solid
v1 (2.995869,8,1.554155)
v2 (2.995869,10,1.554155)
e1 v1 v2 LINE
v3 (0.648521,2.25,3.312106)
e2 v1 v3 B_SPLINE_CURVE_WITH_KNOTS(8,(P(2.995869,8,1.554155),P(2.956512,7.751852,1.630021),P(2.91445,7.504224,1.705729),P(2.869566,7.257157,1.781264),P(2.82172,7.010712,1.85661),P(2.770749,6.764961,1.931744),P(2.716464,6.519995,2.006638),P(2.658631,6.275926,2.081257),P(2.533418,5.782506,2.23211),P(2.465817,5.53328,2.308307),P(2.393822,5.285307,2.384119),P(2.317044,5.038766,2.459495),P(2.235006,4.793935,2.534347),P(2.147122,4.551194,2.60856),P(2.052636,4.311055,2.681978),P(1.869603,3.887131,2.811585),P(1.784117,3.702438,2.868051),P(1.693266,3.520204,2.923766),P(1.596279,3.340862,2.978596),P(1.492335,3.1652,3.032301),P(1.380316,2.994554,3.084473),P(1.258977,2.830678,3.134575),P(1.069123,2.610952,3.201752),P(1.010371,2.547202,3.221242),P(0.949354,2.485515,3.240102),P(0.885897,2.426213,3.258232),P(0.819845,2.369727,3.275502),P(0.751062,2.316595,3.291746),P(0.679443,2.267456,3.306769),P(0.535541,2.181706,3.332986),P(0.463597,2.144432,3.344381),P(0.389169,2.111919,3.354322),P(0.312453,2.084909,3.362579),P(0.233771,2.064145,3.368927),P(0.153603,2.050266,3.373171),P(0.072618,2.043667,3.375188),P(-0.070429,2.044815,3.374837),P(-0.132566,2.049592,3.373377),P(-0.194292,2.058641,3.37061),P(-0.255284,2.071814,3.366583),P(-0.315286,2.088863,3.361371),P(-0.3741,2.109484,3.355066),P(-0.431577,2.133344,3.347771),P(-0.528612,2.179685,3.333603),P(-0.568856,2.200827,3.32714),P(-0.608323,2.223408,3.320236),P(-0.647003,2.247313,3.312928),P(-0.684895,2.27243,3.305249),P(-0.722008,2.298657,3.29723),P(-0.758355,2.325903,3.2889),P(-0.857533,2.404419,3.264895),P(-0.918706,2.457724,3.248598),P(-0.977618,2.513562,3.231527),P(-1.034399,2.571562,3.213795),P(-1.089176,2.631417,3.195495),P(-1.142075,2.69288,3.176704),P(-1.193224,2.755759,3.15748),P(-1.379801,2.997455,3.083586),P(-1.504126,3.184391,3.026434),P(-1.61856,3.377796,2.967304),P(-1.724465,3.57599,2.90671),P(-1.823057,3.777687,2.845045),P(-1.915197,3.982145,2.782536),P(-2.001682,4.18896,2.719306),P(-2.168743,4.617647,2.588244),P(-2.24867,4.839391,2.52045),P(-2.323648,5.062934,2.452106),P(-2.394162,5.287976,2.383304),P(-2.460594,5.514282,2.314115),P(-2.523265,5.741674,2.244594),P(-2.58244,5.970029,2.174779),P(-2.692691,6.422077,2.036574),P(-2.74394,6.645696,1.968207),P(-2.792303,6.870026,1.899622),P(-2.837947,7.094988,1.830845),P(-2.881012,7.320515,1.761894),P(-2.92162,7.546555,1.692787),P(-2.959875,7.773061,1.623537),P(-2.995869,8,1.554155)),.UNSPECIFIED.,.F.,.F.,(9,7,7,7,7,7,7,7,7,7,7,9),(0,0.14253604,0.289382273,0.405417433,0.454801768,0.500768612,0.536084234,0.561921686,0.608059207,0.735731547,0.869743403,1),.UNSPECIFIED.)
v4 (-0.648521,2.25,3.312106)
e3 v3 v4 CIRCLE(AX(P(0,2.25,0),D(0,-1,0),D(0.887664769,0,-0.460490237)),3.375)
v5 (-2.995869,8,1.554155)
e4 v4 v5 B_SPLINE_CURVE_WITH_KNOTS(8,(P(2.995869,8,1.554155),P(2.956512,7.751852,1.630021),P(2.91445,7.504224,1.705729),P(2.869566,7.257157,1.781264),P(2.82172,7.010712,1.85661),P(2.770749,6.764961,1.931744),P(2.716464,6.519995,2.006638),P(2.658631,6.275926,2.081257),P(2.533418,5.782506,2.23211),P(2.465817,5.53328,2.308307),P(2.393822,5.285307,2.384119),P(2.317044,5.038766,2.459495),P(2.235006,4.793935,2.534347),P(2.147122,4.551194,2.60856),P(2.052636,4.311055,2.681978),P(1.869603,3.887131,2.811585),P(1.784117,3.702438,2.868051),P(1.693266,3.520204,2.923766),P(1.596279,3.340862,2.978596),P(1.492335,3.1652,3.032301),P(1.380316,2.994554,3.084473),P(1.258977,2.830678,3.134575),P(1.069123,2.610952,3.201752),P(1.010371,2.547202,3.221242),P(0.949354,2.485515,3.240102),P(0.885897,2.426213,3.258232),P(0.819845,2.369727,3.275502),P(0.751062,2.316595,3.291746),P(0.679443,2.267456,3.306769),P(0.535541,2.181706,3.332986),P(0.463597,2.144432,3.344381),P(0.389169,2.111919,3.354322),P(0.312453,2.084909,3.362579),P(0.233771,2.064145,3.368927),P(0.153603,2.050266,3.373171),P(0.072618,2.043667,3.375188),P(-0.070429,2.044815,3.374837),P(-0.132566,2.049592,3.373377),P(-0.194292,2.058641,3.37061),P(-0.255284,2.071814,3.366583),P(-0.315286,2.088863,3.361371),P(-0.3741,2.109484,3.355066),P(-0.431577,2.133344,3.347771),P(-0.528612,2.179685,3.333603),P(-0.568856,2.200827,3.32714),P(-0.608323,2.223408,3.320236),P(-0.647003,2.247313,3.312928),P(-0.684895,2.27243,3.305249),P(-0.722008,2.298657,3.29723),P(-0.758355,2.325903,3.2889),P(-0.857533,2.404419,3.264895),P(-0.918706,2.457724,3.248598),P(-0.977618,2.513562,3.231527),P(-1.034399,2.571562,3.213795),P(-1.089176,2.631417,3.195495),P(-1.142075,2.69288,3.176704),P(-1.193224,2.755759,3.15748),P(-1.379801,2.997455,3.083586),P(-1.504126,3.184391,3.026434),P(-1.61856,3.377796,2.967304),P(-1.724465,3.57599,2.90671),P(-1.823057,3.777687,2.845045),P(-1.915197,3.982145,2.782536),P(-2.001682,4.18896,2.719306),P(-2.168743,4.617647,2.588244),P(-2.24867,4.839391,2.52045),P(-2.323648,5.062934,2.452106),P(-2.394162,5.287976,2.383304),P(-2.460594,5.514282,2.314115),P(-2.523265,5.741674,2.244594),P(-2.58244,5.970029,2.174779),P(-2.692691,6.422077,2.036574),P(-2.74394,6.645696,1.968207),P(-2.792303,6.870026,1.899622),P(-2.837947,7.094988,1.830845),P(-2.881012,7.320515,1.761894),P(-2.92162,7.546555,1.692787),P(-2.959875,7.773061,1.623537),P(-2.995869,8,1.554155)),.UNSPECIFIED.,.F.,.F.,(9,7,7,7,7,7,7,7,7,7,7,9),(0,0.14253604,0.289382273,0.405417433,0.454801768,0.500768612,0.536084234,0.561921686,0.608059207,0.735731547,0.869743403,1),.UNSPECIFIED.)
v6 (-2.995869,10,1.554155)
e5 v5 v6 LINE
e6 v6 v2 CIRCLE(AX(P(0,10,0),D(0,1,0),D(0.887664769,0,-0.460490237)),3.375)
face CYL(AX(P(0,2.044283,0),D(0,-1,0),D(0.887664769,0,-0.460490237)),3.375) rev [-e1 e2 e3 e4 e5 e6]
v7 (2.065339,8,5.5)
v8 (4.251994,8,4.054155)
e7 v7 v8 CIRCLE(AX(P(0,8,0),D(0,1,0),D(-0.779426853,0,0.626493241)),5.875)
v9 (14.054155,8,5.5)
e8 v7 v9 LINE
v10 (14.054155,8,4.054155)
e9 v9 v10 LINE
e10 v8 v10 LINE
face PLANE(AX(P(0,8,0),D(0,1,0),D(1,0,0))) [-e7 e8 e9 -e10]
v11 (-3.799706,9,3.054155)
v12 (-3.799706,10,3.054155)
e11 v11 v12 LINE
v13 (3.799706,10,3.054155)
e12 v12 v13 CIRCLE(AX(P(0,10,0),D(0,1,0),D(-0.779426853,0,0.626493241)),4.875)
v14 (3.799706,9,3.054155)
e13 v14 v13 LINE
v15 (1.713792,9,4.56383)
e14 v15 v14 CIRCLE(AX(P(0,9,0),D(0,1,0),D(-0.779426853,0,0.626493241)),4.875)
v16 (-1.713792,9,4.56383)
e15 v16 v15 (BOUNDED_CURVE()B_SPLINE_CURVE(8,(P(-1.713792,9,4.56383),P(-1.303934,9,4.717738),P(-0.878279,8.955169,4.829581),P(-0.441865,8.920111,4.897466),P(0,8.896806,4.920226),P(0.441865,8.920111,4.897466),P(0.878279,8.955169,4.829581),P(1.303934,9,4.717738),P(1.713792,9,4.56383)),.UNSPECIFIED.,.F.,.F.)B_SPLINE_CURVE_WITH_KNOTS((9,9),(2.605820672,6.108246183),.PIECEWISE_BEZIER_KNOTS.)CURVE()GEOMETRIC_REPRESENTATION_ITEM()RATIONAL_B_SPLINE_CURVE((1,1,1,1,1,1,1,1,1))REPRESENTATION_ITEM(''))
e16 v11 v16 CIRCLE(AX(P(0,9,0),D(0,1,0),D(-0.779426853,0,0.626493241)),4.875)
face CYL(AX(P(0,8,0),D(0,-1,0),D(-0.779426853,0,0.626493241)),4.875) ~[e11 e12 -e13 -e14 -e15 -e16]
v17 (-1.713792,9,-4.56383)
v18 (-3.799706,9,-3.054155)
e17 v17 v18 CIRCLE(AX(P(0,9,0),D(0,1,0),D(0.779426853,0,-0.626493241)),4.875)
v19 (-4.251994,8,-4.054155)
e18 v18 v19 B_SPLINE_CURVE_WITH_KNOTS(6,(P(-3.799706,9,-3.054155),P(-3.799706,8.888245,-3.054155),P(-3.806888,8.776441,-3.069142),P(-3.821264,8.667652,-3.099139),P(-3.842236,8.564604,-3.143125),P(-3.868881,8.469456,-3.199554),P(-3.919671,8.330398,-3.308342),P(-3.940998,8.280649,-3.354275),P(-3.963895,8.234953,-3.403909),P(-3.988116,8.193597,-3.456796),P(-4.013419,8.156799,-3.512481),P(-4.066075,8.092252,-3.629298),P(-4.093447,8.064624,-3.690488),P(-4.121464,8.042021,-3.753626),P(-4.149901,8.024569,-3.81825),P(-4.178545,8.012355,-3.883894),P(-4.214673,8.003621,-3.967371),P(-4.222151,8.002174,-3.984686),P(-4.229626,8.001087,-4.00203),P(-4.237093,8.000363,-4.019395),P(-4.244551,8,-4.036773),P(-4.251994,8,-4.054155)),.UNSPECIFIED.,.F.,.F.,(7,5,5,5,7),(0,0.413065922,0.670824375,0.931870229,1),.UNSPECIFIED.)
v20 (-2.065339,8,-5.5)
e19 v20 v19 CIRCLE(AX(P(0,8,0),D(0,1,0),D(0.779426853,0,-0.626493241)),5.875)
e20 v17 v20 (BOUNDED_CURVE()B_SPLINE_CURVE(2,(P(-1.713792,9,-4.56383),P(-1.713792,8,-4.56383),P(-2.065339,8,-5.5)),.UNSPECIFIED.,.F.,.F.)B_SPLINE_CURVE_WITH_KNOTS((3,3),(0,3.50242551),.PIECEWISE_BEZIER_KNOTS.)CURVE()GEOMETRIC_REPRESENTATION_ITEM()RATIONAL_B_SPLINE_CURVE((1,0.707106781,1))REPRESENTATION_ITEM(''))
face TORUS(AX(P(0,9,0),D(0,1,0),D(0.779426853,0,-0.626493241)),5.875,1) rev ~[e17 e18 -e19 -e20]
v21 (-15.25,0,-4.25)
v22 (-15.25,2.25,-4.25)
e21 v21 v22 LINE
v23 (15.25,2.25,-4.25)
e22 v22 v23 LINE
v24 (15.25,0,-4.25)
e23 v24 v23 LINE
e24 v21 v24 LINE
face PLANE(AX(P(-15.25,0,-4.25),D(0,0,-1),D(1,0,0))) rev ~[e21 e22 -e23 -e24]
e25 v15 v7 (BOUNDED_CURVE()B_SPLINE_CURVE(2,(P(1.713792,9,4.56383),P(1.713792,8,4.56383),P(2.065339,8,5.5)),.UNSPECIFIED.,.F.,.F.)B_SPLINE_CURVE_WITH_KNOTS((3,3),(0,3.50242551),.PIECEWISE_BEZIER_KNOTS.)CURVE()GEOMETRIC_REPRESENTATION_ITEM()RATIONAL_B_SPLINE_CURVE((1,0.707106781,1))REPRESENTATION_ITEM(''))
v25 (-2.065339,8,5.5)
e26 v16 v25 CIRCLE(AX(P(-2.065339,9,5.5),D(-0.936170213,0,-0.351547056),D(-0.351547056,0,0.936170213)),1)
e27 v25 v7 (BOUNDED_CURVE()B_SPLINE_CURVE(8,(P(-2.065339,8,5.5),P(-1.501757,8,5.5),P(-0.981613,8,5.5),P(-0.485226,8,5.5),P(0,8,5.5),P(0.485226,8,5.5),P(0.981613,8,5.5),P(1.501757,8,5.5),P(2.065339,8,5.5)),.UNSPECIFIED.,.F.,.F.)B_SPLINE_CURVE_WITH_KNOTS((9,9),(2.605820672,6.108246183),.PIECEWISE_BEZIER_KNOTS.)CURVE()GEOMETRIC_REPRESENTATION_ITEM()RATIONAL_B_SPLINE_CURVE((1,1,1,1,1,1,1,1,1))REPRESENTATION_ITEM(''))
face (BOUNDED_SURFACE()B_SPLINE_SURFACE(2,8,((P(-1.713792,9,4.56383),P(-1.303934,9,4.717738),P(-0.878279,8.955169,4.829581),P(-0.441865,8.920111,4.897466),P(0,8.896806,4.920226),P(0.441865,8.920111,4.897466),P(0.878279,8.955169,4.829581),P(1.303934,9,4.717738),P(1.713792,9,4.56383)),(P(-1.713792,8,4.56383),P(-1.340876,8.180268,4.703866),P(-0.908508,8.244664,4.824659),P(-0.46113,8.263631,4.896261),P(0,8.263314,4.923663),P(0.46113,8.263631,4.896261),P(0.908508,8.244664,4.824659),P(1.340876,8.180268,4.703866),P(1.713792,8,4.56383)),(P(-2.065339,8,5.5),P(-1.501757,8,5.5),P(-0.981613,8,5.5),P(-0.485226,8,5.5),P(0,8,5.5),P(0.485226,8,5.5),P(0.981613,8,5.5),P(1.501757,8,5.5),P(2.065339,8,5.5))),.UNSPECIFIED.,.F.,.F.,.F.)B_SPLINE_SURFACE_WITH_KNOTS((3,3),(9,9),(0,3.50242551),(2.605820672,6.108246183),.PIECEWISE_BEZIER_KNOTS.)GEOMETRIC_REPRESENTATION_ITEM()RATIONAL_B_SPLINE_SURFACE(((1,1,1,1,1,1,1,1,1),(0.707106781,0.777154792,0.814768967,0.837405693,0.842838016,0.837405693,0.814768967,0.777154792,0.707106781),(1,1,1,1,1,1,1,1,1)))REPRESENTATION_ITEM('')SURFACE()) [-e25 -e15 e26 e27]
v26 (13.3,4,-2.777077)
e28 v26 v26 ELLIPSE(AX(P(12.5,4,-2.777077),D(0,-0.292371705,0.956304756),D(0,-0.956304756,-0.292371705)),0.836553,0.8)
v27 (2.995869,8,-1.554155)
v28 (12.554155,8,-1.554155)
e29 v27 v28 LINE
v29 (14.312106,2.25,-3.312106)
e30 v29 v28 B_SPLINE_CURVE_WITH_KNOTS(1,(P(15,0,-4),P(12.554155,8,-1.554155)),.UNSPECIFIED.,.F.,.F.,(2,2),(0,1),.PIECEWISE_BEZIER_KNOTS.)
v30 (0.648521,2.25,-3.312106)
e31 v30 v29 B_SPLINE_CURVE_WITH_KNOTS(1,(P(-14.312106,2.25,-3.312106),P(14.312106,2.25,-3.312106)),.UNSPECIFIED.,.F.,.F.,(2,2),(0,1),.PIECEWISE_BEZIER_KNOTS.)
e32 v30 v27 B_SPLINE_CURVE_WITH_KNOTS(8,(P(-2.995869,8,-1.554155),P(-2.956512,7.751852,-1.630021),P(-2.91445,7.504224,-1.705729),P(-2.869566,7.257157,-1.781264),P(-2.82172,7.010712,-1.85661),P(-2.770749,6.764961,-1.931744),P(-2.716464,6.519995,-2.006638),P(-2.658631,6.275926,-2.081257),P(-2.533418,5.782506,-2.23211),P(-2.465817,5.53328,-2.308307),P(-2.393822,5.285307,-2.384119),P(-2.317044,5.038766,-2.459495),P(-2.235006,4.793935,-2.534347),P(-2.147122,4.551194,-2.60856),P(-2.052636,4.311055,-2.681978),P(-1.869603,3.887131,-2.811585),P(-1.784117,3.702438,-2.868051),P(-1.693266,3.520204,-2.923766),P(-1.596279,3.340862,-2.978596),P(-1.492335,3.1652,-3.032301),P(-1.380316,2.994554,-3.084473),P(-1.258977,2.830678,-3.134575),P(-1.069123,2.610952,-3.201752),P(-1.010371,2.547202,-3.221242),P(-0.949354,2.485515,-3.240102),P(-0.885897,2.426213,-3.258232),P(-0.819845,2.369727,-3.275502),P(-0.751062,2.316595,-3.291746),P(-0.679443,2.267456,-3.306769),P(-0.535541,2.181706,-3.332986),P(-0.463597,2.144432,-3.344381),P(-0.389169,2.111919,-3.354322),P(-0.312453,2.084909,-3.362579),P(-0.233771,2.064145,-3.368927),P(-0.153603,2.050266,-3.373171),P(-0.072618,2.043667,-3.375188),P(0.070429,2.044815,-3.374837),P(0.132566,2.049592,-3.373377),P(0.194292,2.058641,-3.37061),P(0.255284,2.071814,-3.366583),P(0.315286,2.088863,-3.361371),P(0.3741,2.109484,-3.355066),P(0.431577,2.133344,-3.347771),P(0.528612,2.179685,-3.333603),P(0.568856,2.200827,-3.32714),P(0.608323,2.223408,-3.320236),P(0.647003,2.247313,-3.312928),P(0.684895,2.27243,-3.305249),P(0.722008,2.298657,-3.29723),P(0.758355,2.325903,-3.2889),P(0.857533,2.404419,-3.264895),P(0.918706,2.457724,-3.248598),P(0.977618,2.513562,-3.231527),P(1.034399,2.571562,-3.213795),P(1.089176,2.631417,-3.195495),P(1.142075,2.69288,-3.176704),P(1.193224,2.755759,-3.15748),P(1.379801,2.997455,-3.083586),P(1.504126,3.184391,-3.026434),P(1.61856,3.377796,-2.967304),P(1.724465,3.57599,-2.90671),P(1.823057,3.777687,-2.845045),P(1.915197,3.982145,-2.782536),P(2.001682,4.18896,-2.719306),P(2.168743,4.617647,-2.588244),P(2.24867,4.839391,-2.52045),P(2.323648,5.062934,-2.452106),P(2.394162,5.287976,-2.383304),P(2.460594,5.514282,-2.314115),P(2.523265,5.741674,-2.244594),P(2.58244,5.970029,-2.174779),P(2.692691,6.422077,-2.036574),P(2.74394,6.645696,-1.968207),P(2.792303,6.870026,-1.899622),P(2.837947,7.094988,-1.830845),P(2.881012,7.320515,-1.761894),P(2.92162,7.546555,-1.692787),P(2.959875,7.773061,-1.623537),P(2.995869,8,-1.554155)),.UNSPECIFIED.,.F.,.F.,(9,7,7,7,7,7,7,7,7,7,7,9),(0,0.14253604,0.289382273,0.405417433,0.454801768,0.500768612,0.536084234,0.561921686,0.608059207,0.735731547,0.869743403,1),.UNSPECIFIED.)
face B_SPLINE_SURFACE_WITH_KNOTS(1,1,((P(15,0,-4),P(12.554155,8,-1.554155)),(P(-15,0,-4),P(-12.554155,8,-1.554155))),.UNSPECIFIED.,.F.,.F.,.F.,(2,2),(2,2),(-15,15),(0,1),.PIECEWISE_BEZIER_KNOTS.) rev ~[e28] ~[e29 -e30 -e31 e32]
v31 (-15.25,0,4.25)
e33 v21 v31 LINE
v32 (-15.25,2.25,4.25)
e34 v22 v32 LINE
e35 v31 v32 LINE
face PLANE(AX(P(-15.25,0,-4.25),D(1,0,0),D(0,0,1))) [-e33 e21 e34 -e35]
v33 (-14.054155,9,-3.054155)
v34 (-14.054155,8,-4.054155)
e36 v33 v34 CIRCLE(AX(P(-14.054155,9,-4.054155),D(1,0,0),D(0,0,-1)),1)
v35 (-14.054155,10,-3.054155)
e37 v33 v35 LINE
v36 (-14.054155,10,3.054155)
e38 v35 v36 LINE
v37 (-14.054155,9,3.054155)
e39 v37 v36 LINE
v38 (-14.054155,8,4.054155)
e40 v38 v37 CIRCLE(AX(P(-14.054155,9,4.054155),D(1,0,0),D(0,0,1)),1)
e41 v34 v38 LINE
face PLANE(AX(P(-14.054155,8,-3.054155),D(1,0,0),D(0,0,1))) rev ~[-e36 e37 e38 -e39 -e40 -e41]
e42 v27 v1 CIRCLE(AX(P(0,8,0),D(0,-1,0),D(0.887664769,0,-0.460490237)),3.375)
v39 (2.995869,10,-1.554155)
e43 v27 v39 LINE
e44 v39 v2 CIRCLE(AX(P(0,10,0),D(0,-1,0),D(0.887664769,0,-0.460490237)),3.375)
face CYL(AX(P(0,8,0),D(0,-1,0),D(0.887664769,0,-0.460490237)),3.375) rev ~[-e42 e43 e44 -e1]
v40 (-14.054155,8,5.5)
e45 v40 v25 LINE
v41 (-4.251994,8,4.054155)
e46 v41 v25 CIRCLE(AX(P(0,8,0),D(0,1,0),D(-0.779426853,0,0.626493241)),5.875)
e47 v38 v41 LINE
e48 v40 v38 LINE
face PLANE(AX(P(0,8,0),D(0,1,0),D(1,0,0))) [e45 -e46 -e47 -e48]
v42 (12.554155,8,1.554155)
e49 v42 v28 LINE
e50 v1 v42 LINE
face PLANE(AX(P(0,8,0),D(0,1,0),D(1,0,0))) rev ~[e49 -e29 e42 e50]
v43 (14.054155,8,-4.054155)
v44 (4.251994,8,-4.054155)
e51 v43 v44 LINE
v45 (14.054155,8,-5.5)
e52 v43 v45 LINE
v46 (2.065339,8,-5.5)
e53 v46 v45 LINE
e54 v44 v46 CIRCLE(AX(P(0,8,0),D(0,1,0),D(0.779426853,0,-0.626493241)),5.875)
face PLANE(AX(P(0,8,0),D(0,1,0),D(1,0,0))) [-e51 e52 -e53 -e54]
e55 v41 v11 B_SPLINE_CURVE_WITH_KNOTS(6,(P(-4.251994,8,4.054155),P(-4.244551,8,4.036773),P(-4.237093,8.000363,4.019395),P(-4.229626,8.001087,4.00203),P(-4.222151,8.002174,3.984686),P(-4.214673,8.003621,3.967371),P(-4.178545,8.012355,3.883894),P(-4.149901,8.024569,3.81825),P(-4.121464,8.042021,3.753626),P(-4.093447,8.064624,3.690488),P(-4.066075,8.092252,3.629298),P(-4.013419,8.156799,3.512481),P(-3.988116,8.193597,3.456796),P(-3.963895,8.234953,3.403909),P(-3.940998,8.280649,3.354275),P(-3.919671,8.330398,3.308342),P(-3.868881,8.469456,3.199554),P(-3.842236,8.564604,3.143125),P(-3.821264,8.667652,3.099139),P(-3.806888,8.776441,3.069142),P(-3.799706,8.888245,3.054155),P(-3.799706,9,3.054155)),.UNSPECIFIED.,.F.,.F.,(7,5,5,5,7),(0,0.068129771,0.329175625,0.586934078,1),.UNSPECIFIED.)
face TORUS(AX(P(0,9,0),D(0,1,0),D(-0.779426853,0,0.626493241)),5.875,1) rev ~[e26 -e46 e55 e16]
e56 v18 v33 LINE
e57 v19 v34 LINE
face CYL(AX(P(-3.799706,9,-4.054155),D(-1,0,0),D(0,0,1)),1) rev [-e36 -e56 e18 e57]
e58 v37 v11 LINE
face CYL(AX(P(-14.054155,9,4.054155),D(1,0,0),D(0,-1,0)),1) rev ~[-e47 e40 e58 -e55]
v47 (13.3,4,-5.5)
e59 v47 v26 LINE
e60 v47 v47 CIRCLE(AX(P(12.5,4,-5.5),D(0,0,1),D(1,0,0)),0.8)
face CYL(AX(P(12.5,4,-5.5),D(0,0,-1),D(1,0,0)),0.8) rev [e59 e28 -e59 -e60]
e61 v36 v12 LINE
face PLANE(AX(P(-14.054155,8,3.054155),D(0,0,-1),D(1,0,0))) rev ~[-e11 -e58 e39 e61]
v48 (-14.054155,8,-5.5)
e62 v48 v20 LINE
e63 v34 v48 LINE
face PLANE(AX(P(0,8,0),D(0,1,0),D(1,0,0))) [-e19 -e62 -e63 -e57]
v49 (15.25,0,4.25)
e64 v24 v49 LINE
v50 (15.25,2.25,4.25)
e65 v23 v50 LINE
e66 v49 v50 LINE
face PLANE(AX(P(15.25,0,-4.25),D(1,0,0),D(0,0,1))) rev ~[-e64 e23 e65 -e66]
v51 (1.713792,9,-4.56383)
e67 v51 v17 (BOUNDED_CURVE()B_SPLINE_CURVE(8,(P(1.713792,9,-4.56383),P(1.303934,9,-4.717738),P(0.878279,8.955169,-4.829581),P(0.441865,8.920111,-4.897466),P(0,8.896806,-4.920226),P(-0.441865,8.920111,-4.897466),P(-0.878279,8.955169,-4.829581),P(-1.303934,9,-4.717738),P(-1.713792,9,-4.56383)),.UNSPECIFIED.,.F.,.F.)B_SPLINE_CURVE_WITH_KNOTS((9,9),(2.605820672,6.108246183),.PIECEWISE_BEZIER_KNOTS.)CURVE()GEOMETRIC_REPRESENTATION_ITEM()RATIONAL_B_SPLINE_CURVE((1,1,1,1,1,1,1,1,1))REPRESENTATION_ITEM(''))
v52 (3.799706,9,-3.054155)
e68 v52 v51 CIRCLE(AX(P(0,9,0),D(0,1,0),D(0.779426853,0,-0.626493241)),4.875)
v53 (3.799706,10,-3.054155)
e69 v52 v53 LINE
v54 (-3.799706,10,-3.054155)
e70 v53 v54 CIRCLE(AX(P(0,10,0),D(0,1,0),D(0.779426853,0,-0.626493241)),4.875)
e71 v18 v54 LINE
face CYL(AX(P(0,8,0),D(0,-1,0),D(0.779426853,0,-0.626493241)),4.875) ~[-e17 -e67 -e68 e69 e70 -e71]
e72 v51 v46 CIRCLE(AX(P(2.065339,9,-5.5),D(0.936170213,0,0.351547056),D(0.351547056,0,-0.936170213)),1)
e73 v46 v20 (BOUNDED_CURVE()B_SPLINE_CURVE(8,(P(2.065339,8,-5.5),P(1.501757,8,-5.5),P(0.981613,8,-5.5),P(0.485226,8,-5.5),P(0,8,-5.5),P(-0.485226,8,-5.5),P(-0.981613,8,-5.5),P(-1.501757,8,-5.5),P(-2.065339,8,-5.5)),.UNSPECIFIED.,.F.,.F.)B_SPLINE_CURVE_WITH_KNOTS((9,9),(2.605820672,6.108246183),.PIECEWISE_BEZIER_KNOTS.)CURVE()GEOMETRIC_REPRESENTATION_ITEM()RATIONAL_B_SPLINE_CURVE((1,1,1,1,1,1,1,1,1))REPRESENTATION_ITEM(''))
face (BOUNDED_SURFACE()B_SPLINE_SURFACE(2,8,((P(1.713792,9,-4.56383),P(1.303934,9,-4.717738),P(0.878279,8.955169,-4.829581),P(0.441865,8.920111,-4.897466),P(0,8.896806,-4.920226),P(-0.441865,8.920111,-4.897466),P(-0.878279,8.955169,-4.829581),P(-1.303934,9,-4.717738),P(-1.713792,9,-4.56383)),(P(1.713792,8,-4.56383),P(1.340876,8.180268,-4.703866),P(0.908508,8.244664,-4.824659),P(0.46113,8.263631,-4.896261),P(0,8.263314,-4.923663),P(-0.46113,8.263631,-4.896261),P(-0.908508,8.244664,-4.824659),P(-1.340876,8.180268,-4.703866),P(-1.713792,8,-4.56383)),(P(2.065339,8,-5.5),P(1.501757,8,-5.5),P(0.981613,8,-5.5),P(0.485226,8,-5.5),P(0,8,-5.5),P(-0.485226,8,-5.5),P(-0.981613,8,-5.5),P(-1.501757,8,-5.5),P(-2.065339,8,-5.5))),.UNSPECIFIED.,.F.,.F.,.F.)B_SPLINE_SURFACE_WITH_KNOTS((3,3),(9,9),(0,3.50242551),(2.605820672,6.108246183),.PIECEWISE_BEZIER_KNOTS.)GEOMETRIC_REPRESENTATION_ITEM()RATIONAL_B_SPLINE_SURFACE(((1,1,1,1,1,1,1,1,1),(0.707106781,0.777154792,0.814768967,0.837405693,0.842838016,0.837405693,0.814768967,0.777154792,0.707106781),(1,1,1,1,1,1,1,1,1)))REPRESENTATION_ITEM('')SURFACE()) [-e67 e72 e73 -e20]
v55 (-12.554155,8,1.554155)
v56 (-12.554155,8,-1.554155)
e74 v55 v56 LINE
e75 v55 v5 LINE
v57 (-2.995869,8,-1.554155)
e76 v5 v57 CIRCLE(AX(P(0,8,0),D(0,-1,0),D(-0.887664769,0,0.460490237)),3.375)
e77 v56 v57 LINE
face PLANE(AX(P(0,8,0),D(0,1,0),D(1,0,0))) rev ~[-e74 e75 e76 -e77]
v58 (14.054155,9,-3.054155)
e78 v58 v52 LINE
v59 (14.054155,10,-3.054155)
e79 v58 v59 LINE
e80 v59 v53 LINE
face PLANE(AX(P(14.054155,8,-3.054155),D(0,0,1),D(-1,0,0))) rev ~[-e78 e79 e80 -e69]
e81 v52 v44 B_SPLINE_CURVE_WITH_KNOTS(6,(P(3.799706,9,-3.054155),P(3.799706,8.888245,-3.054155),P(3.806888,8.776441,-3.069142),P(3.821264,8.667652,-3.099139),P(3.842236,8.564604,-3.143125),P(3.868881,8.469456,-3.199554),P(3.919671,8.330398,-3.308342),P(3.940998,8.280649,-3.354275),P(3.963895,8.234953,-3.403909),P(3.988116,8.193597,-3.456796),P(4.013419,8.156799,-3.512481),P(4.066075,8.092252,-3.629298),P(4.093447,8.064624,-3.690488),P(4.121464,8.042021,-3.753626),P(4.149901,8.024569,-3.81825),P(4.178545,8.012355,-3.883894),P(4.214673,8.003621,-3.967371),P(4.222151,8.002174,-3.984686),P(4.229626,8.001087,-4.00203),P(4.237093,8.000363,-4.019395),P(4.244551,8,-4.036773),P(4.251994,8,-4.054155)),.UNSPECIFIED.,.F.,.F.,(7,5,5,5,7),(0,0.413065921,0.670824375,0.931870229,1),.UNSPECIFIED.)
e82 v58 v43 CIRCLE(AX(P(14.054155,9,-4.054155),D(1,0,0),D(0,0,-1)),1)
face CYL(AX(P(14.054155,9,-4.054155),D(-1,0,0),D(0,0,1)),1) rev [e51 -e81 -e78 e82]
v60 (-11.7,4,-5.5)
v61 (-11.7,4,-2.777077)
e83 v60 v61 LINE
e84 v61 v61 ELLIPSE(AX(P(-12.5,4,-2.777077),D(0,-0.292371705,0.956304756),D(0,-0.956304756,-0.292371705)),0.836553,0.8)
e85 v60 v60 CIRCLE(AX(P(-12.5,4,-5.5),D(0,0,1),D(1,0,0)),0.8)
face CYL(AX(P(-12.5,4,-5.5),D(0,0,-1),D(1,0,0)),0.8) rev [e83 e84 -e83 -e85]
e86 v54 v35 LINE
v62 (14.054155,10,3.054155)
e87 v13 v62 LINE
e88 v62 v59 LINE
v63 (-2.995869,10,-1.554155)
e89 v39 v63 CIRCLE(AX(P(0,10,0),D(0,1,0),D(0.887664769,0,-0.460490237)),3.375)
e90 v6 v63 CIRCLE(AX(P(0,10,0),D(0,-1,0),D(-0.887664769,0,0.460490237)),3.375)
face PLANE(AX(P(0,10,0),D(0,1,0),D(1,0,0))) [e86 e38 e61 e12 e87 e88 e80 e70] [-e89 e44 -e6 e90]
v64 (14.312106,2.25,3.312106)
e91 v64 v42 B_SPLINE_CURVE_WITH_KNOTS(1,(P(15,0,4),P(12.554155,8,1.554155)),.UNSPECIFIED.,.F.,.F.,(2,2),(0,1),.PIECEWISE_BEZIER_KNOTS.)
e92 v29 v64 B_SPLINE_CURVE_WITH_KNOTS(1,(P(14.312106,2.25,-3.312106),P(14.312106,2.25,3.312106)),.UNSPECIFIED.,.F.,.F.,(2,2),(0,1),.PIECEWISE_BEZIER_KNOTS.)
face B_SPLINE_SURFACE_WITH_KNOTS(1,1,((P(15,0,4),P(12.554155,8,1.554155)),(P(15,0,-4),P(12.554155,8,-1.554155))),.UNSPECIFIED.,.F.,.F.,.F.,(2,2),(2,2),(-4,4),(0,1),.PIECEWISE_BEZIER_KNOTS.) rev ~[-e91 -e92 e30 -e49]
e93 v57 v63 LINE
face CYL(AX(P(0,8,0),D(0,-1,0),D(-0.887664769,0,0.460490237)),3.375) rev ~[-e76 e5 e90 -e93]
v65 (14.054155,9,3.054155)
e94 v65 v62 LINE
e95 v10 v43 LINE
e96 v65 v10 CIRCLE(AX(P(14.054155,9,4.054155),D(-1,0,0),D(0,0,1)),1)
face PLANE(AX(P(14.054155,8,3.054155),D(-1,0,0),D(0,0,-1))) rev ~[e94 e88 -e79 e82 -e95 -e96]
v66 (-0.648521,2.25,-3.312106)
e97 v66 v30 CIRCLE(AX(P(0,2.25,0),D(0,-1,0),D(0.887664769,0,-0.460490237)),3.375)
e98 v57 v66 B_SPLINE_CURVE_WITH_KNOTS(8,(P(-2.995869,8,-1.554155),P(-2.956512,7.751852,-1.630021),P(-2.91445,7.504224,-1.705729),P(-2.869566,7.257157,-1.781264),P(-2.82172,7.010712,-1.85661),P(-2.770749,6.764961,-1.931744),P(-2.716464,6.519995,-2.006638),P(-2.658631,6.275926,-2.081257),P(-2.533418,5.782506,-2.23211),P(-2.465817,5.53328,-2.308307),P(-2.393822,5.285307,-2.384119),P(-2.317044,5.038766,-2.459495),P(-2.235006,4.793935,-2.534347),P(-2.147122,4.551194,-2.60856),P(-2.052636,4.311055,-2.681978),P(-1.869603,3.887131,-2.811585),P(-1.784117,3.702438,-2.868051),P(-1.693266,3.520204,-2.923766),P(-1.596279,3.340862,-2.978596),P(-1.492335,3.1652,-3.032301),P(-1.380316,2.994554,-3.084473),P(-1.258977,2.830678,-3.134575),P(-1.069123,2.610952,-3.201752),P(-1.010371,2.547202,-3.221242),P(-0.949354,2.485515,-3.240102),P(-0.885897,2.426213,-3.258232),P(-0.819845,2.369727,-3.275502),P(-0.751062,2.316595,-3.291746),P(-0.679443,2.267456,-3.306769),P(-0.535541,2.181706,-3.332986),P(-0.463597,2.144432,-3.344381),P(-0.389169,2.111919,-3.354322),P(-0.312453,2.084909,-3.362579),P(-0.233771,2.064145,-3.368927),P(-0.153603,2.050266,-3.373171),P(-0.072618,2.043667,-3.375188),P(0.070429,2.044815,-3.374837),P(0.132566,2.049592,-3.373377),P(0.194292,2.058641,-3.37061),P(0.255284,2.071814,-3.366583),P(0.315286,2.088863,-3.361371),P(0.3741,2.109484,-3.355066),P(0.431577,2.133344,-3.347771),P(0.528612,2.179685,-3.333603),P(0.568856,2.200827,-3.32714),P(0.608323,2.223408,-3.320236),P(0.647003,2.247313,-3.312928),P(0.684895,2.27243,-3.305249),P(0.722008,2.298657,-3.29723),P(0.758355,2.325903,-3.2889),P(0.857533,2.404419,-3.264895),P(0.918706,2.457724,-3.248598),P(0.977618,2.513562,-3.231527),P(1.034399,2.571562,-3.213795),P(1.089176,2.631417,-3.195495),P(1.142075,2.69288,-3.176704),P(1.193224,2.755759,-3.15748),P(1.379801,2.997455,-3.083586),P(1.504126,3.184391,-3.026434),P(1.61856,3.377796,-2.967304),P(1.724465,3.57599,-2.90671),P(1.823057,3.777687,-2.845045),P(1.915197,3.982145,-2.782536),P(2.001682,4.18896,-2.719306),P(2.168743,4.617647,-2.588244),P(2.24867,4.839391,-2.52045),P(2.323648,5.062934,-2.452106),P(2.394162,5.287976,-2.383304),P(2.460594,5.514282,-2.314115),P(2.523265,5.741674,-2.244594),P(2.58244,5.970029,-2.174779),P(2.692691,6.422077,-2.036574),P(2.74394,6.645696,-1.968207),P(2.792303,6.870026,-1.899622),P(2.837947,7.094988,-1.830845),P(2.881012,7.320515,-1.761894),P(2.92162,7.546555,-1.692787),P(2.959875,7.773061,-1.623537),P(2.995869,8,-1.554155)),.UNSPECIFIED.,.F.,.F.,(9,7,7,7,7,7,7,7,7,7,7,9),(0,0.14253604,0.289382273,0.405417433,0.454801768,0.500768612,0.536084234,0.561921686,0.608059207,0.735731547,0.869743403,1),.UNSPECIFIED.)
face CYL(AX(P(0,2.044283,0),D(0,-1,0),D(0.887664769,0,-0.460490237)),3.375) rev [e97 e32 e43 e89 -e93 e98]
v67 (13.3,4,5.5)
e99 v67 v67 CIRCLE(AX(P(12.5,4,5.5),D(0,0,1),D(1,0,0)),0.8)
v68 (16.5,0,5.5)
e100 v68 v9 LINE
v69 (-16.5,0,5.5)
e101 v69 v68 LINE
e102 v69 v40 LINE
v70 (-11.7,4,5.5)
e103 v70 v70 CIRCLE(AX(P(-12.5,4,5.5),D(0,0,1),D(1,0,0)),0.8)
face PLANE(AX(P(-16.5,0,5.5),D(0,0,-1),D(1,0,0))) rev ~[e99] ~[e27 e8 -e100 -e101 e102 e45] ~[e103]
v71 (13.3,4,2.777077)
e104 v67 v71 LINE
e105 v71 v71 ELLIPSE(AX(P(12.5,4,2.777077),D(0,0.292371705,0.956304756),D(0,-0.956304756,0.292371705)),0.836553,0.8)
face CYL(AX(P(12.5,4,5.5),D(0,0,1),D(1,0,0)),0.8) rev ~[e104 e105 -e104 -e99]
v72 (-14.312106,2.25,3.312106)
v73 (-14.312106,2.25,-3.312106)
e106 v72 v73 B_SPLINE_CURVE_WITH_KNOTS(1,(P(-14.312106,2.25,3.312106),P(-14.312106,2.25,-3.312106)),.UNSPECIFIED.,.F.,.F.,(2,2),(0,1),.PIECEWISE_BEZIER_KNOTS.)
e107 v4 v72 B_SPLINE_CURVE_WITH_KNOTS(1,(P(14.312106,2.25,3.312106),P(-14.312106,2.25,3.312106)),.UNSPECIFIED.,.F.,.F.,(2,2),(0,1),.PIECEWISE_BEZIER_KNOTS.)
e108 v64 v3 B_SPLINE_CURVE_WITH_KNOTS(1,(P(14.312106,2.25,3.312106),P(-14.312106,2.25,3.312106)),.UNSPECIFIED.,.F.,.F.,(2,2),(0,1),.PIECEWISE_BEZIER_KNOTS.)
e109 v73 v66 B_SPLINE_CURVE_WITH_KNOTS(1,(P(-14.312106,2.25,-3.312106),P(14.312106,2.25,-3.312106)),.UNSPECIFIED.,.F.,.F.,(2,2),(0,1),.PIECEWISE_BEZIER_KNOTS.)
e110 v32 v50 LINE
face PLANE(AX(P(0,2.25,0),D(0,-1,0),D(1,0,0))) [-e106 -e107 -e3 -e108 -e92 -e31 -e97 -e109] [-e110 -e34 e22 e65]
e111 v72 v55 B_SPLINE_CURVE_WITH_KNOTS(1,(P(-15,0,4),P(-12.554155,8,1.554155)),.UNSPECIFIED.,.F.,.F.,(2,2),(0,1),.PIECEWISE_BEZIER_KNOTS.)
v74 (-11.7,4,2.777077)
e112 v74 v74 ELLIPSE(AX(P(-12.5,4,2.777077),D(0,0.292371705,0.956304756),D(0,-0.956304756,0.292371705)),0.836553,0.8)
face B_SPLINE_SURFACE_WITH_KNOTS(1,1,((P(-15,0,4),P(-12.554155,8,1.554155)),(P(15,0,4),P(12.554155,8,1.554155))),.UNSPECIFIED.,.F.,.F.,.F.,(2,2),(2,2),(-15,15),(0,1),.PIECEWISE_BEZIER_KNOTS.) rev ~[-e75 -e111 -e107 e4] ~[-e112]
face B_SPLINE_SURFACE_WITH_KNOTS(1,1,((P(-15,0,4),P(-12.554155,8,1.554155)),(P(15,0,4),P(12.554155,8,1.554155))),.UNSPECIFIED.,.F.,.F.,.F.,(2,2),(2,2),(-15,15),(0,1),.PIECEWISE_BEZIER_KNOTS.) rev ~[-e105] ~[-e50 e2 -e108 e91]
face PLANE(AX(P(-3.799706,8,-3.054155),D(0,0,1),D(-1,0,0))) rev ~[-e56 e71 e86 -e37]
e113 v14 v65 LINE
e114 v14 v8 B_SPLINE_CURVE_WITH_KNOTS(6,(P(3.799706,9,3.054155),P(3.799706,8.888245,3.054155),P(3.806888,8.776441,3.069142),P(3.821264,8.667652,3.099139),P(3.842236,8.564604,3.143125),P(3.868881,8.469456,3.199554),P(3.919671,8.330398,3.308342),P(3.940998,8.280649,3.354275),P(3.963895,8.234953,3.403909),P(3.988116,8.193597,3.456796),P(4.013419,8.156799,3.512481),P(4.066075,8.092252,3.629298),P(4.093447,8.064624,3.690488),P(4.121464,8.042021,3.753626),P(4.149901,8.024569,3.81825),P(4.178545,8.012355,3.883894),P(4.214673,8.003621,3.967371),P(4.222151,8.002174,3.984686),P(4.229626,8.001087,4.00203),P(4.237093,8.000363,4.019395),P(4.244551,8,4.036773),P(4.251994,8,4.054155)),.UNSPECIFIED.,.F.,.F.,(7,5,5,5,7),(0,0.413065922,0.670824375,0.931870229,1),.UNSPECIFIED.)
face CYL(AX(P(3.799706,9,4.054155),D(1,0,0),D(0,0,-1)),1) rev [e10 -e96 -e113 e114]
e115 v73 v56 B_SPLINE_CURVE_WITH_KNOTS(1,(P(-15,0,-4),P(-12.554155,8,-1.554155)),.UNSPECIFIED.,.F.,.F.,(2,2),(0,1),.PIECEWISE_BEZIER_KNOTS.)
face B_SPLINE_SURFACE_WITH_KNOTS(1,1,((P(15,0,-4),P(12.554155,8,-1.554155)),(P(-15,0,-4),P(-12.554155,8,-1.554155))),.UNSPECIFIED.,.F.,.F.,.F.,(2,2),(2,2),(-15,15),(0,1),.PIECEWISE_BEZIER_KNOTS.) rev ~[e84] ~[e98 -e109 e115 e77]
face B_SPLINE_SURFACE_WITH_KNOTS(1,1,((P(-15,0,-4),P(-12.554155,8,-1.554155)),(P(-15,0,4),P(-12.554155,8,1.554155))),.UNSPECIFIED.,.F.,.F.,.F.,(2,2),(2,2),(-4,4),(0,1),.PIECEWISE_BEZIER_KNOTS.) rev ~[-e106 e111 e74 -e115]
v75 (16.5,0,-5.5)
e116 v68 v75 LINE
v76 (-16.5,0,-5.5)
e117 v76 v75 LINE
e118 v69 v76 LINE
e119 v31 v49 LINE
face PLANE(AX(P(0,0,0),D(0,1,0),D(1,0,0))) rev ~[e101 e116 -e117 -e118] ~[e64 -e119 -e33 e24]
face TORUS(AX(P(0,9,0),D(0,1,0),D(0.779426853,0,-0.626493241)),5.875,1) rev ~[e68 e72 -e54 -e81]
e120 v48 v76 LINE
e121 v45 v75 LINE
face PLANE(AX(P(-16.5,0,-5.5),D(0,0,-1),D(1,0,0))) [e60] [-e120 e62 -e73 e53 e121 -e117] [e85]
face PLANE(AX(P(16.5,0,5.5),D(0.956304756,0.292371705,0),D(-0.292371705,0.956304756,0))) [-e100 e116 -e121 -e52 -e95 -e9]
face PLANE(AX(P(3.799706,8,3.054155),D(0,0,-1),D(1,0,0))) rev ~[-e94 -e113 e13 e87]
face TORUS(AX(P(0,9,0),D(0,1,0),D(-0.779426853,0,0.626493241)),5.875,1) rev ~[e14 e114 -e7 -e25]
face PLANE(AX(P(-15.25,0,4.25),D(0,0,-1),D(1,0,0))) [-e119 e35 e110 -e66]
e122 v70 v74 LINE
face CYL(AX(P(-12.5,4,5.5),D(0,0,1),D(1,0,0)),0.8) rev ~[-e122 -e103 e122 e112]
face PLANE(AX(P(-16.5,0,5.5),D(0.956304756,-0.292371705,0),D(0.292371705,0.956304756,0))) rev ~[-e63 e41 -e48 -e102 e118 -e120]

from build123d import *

# Parameters (mm, degrees)
SKETCH1_W           = 33
SKETCH1_H           = 11
SKETCH1_W_2         = 30
SKETCH1_H_2         = 8
BOSS_EXTRUDE1_DEPTH = 8
SKETCH1_6_W         = 30
SKETCH1_6_H         = 8
CUT_EXTRUDE1_DEPTH  = 8
CUT_EXTRUDE1_TAPER  = 17
CUT_EXTRUDE3_REACH  = 23.383
SKETCH3_R           = 0.8
BOSS_EXTRUDE6_DEPTH = 2
CUT_EXTRUDE4_DEPTH  = 23.209232315
CUT_EXTRUDE5_START  = -5.955717
SKETCH5_R           = 3.375
CUT_EXTRUDE5_DEPTH  = 7.955717
SKETCH6_W           = 30.5
SKETCH6_H           = 8.5
CUT_EXTRUDE6_DEPTH  = 2.25
FILLET1_R           = 1


with BuildPart() as part:
    # Sketch1 → Boss-Extrude1 (new body)
    # profile 1 of 2: a face of its own
    with BuildSketch(Plane(origin=(0, 0, 0), x_dir=(1, 0, 0), z_dir=(0, 1, 0))):
        Rectangle(SKETCH1_W, SKETCH1_H)
        Rectangle(SKETCH1_W_2, SKETCH1_H_2, mode=Mode.SUBTRACT)
    # profile 2 of 2: a face of its own
    with BuildSketch(Plane(origin=(0, 0, 0), x_dir=(1, 0, 0), z_dir=(0, 1, 0))):
        Rectangle(SKETCH1_W_2, SKETCH1_H_2)
    extrude(amount=BOSS_EXTRUDE1_DEPTH)

    # Sketch1<6> → Cut-Extrude1 (cut)
    with BuildSketch(Plane(origin=(0, 0, 0), x_dir=(1, 0, 0), z_dir=(0, 1, 0))):
        Rectangle(SKETCH1_6_W, SKETCH1_6_H)
    extrude(amount=CUT_EXTRUDE1_DEPTH, taper=CUT_EXTRUDE1_TAPER, mode=Mode.SUBTRACT)

    # Cut-Extrude3: up to this plane
    cut_extrude3_end = Plane(origin=(0, 0, 4), z_dir=(0, 0.2923717047227373, 0.9563047559630353))
    # Sketch3 → Cut-Extrude3 (cut, up to the surface)
    with BuildSketch(Plane.XY.offset(5.5), mode=Mode.PRIVATE) as cut_extrude3_sk1:
        with Locations((-12.5, 4)):
            Circle(SKETCH3_R)
    cut_extrude3_tool1 = split(extrude(cut_extrude3_sk1.sketch, amount=-CUT_EXTRUDE3_REACH, mode=Mode.PRIVATE), bisect_by=cut_extrude3_end, keep=Keep.BOTH, mode=Mode.PRIVATE)
    # Sketch3 → Cut-Extrude3 (cut, up to the surface)
    with BuildSketch(Plane.XY.offset(5.5), mode=Mode.PRIVATE) as cut_extrude3_sk2:
        with Locations((12.5, 4)):
            Circle(SKETCH3_R)
    cut_extrude3_tool2 = split(extrude(cut_extrude3_sk2.sketch, amount=-CUT_EXTRUDE3_REACH, mode=Mode.PRIVATE), bisect_by=cut_extrude3_end, keep=Keep.BOTH, mode=Mode.PRIVATE)
    cut_extrude3 = cut_extrude3_tool1.solids().sort_by_distance((-12.5, 4, 5.5))[0] + cut_extrude3_tool2.solids().sort_by_distance((12.5, 4, 5.5))[0]
    add(cut_extrude3, mode=Mode.SUBTRACT)

    # Mirror1: Cut-Extrude3 across plane
    add(cut_extrude3.mirror(Plane.XY), mode=Mode.SUBTRACT)

    # Sketch2<6> → Boss-Extrude6 (add)
    with BuildSketch(Plane(origin=(0, 8, 0), x_dir=(1, 0, 0), z_dir=(0, 1, 0))):
        with BuildLine():
            Line((3.799705909, -3.054154548), (14.054154548, -3.054154548))
            Line((14.054154548, -3.054154548), (14.054154548, 3.054154548))
            Line((14.054154548, 3.054154548), (3.799705909, 3.054154548))
            ThreePointArc((3.799705909, 3.054154548), (0, 4.875), (-3.799705909, 3.054154548))
            Line((-3.799705909, 3.054154548), (-14.054154548, 3.054154548))
            Line((-14.054154548, 3.054154548), (-14.054154548, -3.054154548))
            Line((-14.054154548, -3.054154548), (-3.799705909, -3.054154548))
            ThreePointArc((-3.799705909, -3.054154548), (0, -4.875), (3.799705909, -3.054154548))
        make_face()
        with BuildLine():
            ThreePointArc((2.995868595, 1.554154548), (3.375, 0), (2.995868595, -1.554154548))
            Line((2.995868595, -1.554154548), (1.626992206, -1.554154548))
            ThreePointArc((1.626992206, -1.554154548), (0, -2.25), (-1.626992206, -1.554154548))
            Line((-1.626992206, -1.554154548), (-2.995868595, -1.554154548))
            ThreePointArc((-2.995868595, -1.554154548), (-3.375, 0), (-2.995868595, 1.554154548))
            Line((-2.995868595, 1.554154548), (-1.626992206, 1.554154548))
            ThreePointArc((-1.626992206, 1.554154548), (0, 2.25), (1.626992206, 1.554154548))
            Line((1.626992206, 1.554154548), (2.995868595, 1.554154548))
        make_face(mode=Mode.SUBTRACT)
    extrude(amount=BOSS_EXTRUDE6_DEPTH)

    # Sketch4 → Cut-Extrude4 (cut, through all)
    with BuildSketch(Plane.XY.offset(5.5)):
        Polygon((-16.5, 0), (-14.054154548, 8), (-16.5, 8), align=None)
        Polygon((16.5, 0), (14.054154548, 8), (16.5, 8), align=None)
    extrude(amount=-CUT_EXTRUDE4_DEPTH, mode=Mode.SUBTRACT)

    # Sketch5 → Cut-Extrude5 (cut)
    with BuildSketch(Plane(origin=(0, 8, 0), x_dir=(1, 0, 0), z_dir=(0, 1, 0)).offset(CUT_EXTRUDE5_START)):
        with Locations(Location((0, 0, 0), (0, 0, 27.418746095))):
            Circle(SKETCH5_R)
    extrude(amount=CUT_EXTRUDE5_DEPTH, mode=Mode.SUBTRACT)

    # Sketch6 → Cut-Extrude6 (cut)
    with BuildSketch(Plane.XZ):
        Rectangle(SKETCH6_W, SKETCH6_H)
    extrude(amount=-CUT_EXTRUDE6_DEPTH, mode=Mode.SUBTRACT)

    # Fillet1
    fillet1_edges = [part.edges().sort_by_distance(p)[0] for p in [
        (8.926930229, 8, 3.054154548),
        (-8.926930229, 8, -3.054154548),
        (0, 8, -4.875),
        (-8.926930229, 8, 3.054154548),
        (0, 8, 4.875),
        (8.926930229, 8, -3.054154548),
    ]]
    fillet(fillet1_edges, radius=FILLET1_R)


solid = part.part
